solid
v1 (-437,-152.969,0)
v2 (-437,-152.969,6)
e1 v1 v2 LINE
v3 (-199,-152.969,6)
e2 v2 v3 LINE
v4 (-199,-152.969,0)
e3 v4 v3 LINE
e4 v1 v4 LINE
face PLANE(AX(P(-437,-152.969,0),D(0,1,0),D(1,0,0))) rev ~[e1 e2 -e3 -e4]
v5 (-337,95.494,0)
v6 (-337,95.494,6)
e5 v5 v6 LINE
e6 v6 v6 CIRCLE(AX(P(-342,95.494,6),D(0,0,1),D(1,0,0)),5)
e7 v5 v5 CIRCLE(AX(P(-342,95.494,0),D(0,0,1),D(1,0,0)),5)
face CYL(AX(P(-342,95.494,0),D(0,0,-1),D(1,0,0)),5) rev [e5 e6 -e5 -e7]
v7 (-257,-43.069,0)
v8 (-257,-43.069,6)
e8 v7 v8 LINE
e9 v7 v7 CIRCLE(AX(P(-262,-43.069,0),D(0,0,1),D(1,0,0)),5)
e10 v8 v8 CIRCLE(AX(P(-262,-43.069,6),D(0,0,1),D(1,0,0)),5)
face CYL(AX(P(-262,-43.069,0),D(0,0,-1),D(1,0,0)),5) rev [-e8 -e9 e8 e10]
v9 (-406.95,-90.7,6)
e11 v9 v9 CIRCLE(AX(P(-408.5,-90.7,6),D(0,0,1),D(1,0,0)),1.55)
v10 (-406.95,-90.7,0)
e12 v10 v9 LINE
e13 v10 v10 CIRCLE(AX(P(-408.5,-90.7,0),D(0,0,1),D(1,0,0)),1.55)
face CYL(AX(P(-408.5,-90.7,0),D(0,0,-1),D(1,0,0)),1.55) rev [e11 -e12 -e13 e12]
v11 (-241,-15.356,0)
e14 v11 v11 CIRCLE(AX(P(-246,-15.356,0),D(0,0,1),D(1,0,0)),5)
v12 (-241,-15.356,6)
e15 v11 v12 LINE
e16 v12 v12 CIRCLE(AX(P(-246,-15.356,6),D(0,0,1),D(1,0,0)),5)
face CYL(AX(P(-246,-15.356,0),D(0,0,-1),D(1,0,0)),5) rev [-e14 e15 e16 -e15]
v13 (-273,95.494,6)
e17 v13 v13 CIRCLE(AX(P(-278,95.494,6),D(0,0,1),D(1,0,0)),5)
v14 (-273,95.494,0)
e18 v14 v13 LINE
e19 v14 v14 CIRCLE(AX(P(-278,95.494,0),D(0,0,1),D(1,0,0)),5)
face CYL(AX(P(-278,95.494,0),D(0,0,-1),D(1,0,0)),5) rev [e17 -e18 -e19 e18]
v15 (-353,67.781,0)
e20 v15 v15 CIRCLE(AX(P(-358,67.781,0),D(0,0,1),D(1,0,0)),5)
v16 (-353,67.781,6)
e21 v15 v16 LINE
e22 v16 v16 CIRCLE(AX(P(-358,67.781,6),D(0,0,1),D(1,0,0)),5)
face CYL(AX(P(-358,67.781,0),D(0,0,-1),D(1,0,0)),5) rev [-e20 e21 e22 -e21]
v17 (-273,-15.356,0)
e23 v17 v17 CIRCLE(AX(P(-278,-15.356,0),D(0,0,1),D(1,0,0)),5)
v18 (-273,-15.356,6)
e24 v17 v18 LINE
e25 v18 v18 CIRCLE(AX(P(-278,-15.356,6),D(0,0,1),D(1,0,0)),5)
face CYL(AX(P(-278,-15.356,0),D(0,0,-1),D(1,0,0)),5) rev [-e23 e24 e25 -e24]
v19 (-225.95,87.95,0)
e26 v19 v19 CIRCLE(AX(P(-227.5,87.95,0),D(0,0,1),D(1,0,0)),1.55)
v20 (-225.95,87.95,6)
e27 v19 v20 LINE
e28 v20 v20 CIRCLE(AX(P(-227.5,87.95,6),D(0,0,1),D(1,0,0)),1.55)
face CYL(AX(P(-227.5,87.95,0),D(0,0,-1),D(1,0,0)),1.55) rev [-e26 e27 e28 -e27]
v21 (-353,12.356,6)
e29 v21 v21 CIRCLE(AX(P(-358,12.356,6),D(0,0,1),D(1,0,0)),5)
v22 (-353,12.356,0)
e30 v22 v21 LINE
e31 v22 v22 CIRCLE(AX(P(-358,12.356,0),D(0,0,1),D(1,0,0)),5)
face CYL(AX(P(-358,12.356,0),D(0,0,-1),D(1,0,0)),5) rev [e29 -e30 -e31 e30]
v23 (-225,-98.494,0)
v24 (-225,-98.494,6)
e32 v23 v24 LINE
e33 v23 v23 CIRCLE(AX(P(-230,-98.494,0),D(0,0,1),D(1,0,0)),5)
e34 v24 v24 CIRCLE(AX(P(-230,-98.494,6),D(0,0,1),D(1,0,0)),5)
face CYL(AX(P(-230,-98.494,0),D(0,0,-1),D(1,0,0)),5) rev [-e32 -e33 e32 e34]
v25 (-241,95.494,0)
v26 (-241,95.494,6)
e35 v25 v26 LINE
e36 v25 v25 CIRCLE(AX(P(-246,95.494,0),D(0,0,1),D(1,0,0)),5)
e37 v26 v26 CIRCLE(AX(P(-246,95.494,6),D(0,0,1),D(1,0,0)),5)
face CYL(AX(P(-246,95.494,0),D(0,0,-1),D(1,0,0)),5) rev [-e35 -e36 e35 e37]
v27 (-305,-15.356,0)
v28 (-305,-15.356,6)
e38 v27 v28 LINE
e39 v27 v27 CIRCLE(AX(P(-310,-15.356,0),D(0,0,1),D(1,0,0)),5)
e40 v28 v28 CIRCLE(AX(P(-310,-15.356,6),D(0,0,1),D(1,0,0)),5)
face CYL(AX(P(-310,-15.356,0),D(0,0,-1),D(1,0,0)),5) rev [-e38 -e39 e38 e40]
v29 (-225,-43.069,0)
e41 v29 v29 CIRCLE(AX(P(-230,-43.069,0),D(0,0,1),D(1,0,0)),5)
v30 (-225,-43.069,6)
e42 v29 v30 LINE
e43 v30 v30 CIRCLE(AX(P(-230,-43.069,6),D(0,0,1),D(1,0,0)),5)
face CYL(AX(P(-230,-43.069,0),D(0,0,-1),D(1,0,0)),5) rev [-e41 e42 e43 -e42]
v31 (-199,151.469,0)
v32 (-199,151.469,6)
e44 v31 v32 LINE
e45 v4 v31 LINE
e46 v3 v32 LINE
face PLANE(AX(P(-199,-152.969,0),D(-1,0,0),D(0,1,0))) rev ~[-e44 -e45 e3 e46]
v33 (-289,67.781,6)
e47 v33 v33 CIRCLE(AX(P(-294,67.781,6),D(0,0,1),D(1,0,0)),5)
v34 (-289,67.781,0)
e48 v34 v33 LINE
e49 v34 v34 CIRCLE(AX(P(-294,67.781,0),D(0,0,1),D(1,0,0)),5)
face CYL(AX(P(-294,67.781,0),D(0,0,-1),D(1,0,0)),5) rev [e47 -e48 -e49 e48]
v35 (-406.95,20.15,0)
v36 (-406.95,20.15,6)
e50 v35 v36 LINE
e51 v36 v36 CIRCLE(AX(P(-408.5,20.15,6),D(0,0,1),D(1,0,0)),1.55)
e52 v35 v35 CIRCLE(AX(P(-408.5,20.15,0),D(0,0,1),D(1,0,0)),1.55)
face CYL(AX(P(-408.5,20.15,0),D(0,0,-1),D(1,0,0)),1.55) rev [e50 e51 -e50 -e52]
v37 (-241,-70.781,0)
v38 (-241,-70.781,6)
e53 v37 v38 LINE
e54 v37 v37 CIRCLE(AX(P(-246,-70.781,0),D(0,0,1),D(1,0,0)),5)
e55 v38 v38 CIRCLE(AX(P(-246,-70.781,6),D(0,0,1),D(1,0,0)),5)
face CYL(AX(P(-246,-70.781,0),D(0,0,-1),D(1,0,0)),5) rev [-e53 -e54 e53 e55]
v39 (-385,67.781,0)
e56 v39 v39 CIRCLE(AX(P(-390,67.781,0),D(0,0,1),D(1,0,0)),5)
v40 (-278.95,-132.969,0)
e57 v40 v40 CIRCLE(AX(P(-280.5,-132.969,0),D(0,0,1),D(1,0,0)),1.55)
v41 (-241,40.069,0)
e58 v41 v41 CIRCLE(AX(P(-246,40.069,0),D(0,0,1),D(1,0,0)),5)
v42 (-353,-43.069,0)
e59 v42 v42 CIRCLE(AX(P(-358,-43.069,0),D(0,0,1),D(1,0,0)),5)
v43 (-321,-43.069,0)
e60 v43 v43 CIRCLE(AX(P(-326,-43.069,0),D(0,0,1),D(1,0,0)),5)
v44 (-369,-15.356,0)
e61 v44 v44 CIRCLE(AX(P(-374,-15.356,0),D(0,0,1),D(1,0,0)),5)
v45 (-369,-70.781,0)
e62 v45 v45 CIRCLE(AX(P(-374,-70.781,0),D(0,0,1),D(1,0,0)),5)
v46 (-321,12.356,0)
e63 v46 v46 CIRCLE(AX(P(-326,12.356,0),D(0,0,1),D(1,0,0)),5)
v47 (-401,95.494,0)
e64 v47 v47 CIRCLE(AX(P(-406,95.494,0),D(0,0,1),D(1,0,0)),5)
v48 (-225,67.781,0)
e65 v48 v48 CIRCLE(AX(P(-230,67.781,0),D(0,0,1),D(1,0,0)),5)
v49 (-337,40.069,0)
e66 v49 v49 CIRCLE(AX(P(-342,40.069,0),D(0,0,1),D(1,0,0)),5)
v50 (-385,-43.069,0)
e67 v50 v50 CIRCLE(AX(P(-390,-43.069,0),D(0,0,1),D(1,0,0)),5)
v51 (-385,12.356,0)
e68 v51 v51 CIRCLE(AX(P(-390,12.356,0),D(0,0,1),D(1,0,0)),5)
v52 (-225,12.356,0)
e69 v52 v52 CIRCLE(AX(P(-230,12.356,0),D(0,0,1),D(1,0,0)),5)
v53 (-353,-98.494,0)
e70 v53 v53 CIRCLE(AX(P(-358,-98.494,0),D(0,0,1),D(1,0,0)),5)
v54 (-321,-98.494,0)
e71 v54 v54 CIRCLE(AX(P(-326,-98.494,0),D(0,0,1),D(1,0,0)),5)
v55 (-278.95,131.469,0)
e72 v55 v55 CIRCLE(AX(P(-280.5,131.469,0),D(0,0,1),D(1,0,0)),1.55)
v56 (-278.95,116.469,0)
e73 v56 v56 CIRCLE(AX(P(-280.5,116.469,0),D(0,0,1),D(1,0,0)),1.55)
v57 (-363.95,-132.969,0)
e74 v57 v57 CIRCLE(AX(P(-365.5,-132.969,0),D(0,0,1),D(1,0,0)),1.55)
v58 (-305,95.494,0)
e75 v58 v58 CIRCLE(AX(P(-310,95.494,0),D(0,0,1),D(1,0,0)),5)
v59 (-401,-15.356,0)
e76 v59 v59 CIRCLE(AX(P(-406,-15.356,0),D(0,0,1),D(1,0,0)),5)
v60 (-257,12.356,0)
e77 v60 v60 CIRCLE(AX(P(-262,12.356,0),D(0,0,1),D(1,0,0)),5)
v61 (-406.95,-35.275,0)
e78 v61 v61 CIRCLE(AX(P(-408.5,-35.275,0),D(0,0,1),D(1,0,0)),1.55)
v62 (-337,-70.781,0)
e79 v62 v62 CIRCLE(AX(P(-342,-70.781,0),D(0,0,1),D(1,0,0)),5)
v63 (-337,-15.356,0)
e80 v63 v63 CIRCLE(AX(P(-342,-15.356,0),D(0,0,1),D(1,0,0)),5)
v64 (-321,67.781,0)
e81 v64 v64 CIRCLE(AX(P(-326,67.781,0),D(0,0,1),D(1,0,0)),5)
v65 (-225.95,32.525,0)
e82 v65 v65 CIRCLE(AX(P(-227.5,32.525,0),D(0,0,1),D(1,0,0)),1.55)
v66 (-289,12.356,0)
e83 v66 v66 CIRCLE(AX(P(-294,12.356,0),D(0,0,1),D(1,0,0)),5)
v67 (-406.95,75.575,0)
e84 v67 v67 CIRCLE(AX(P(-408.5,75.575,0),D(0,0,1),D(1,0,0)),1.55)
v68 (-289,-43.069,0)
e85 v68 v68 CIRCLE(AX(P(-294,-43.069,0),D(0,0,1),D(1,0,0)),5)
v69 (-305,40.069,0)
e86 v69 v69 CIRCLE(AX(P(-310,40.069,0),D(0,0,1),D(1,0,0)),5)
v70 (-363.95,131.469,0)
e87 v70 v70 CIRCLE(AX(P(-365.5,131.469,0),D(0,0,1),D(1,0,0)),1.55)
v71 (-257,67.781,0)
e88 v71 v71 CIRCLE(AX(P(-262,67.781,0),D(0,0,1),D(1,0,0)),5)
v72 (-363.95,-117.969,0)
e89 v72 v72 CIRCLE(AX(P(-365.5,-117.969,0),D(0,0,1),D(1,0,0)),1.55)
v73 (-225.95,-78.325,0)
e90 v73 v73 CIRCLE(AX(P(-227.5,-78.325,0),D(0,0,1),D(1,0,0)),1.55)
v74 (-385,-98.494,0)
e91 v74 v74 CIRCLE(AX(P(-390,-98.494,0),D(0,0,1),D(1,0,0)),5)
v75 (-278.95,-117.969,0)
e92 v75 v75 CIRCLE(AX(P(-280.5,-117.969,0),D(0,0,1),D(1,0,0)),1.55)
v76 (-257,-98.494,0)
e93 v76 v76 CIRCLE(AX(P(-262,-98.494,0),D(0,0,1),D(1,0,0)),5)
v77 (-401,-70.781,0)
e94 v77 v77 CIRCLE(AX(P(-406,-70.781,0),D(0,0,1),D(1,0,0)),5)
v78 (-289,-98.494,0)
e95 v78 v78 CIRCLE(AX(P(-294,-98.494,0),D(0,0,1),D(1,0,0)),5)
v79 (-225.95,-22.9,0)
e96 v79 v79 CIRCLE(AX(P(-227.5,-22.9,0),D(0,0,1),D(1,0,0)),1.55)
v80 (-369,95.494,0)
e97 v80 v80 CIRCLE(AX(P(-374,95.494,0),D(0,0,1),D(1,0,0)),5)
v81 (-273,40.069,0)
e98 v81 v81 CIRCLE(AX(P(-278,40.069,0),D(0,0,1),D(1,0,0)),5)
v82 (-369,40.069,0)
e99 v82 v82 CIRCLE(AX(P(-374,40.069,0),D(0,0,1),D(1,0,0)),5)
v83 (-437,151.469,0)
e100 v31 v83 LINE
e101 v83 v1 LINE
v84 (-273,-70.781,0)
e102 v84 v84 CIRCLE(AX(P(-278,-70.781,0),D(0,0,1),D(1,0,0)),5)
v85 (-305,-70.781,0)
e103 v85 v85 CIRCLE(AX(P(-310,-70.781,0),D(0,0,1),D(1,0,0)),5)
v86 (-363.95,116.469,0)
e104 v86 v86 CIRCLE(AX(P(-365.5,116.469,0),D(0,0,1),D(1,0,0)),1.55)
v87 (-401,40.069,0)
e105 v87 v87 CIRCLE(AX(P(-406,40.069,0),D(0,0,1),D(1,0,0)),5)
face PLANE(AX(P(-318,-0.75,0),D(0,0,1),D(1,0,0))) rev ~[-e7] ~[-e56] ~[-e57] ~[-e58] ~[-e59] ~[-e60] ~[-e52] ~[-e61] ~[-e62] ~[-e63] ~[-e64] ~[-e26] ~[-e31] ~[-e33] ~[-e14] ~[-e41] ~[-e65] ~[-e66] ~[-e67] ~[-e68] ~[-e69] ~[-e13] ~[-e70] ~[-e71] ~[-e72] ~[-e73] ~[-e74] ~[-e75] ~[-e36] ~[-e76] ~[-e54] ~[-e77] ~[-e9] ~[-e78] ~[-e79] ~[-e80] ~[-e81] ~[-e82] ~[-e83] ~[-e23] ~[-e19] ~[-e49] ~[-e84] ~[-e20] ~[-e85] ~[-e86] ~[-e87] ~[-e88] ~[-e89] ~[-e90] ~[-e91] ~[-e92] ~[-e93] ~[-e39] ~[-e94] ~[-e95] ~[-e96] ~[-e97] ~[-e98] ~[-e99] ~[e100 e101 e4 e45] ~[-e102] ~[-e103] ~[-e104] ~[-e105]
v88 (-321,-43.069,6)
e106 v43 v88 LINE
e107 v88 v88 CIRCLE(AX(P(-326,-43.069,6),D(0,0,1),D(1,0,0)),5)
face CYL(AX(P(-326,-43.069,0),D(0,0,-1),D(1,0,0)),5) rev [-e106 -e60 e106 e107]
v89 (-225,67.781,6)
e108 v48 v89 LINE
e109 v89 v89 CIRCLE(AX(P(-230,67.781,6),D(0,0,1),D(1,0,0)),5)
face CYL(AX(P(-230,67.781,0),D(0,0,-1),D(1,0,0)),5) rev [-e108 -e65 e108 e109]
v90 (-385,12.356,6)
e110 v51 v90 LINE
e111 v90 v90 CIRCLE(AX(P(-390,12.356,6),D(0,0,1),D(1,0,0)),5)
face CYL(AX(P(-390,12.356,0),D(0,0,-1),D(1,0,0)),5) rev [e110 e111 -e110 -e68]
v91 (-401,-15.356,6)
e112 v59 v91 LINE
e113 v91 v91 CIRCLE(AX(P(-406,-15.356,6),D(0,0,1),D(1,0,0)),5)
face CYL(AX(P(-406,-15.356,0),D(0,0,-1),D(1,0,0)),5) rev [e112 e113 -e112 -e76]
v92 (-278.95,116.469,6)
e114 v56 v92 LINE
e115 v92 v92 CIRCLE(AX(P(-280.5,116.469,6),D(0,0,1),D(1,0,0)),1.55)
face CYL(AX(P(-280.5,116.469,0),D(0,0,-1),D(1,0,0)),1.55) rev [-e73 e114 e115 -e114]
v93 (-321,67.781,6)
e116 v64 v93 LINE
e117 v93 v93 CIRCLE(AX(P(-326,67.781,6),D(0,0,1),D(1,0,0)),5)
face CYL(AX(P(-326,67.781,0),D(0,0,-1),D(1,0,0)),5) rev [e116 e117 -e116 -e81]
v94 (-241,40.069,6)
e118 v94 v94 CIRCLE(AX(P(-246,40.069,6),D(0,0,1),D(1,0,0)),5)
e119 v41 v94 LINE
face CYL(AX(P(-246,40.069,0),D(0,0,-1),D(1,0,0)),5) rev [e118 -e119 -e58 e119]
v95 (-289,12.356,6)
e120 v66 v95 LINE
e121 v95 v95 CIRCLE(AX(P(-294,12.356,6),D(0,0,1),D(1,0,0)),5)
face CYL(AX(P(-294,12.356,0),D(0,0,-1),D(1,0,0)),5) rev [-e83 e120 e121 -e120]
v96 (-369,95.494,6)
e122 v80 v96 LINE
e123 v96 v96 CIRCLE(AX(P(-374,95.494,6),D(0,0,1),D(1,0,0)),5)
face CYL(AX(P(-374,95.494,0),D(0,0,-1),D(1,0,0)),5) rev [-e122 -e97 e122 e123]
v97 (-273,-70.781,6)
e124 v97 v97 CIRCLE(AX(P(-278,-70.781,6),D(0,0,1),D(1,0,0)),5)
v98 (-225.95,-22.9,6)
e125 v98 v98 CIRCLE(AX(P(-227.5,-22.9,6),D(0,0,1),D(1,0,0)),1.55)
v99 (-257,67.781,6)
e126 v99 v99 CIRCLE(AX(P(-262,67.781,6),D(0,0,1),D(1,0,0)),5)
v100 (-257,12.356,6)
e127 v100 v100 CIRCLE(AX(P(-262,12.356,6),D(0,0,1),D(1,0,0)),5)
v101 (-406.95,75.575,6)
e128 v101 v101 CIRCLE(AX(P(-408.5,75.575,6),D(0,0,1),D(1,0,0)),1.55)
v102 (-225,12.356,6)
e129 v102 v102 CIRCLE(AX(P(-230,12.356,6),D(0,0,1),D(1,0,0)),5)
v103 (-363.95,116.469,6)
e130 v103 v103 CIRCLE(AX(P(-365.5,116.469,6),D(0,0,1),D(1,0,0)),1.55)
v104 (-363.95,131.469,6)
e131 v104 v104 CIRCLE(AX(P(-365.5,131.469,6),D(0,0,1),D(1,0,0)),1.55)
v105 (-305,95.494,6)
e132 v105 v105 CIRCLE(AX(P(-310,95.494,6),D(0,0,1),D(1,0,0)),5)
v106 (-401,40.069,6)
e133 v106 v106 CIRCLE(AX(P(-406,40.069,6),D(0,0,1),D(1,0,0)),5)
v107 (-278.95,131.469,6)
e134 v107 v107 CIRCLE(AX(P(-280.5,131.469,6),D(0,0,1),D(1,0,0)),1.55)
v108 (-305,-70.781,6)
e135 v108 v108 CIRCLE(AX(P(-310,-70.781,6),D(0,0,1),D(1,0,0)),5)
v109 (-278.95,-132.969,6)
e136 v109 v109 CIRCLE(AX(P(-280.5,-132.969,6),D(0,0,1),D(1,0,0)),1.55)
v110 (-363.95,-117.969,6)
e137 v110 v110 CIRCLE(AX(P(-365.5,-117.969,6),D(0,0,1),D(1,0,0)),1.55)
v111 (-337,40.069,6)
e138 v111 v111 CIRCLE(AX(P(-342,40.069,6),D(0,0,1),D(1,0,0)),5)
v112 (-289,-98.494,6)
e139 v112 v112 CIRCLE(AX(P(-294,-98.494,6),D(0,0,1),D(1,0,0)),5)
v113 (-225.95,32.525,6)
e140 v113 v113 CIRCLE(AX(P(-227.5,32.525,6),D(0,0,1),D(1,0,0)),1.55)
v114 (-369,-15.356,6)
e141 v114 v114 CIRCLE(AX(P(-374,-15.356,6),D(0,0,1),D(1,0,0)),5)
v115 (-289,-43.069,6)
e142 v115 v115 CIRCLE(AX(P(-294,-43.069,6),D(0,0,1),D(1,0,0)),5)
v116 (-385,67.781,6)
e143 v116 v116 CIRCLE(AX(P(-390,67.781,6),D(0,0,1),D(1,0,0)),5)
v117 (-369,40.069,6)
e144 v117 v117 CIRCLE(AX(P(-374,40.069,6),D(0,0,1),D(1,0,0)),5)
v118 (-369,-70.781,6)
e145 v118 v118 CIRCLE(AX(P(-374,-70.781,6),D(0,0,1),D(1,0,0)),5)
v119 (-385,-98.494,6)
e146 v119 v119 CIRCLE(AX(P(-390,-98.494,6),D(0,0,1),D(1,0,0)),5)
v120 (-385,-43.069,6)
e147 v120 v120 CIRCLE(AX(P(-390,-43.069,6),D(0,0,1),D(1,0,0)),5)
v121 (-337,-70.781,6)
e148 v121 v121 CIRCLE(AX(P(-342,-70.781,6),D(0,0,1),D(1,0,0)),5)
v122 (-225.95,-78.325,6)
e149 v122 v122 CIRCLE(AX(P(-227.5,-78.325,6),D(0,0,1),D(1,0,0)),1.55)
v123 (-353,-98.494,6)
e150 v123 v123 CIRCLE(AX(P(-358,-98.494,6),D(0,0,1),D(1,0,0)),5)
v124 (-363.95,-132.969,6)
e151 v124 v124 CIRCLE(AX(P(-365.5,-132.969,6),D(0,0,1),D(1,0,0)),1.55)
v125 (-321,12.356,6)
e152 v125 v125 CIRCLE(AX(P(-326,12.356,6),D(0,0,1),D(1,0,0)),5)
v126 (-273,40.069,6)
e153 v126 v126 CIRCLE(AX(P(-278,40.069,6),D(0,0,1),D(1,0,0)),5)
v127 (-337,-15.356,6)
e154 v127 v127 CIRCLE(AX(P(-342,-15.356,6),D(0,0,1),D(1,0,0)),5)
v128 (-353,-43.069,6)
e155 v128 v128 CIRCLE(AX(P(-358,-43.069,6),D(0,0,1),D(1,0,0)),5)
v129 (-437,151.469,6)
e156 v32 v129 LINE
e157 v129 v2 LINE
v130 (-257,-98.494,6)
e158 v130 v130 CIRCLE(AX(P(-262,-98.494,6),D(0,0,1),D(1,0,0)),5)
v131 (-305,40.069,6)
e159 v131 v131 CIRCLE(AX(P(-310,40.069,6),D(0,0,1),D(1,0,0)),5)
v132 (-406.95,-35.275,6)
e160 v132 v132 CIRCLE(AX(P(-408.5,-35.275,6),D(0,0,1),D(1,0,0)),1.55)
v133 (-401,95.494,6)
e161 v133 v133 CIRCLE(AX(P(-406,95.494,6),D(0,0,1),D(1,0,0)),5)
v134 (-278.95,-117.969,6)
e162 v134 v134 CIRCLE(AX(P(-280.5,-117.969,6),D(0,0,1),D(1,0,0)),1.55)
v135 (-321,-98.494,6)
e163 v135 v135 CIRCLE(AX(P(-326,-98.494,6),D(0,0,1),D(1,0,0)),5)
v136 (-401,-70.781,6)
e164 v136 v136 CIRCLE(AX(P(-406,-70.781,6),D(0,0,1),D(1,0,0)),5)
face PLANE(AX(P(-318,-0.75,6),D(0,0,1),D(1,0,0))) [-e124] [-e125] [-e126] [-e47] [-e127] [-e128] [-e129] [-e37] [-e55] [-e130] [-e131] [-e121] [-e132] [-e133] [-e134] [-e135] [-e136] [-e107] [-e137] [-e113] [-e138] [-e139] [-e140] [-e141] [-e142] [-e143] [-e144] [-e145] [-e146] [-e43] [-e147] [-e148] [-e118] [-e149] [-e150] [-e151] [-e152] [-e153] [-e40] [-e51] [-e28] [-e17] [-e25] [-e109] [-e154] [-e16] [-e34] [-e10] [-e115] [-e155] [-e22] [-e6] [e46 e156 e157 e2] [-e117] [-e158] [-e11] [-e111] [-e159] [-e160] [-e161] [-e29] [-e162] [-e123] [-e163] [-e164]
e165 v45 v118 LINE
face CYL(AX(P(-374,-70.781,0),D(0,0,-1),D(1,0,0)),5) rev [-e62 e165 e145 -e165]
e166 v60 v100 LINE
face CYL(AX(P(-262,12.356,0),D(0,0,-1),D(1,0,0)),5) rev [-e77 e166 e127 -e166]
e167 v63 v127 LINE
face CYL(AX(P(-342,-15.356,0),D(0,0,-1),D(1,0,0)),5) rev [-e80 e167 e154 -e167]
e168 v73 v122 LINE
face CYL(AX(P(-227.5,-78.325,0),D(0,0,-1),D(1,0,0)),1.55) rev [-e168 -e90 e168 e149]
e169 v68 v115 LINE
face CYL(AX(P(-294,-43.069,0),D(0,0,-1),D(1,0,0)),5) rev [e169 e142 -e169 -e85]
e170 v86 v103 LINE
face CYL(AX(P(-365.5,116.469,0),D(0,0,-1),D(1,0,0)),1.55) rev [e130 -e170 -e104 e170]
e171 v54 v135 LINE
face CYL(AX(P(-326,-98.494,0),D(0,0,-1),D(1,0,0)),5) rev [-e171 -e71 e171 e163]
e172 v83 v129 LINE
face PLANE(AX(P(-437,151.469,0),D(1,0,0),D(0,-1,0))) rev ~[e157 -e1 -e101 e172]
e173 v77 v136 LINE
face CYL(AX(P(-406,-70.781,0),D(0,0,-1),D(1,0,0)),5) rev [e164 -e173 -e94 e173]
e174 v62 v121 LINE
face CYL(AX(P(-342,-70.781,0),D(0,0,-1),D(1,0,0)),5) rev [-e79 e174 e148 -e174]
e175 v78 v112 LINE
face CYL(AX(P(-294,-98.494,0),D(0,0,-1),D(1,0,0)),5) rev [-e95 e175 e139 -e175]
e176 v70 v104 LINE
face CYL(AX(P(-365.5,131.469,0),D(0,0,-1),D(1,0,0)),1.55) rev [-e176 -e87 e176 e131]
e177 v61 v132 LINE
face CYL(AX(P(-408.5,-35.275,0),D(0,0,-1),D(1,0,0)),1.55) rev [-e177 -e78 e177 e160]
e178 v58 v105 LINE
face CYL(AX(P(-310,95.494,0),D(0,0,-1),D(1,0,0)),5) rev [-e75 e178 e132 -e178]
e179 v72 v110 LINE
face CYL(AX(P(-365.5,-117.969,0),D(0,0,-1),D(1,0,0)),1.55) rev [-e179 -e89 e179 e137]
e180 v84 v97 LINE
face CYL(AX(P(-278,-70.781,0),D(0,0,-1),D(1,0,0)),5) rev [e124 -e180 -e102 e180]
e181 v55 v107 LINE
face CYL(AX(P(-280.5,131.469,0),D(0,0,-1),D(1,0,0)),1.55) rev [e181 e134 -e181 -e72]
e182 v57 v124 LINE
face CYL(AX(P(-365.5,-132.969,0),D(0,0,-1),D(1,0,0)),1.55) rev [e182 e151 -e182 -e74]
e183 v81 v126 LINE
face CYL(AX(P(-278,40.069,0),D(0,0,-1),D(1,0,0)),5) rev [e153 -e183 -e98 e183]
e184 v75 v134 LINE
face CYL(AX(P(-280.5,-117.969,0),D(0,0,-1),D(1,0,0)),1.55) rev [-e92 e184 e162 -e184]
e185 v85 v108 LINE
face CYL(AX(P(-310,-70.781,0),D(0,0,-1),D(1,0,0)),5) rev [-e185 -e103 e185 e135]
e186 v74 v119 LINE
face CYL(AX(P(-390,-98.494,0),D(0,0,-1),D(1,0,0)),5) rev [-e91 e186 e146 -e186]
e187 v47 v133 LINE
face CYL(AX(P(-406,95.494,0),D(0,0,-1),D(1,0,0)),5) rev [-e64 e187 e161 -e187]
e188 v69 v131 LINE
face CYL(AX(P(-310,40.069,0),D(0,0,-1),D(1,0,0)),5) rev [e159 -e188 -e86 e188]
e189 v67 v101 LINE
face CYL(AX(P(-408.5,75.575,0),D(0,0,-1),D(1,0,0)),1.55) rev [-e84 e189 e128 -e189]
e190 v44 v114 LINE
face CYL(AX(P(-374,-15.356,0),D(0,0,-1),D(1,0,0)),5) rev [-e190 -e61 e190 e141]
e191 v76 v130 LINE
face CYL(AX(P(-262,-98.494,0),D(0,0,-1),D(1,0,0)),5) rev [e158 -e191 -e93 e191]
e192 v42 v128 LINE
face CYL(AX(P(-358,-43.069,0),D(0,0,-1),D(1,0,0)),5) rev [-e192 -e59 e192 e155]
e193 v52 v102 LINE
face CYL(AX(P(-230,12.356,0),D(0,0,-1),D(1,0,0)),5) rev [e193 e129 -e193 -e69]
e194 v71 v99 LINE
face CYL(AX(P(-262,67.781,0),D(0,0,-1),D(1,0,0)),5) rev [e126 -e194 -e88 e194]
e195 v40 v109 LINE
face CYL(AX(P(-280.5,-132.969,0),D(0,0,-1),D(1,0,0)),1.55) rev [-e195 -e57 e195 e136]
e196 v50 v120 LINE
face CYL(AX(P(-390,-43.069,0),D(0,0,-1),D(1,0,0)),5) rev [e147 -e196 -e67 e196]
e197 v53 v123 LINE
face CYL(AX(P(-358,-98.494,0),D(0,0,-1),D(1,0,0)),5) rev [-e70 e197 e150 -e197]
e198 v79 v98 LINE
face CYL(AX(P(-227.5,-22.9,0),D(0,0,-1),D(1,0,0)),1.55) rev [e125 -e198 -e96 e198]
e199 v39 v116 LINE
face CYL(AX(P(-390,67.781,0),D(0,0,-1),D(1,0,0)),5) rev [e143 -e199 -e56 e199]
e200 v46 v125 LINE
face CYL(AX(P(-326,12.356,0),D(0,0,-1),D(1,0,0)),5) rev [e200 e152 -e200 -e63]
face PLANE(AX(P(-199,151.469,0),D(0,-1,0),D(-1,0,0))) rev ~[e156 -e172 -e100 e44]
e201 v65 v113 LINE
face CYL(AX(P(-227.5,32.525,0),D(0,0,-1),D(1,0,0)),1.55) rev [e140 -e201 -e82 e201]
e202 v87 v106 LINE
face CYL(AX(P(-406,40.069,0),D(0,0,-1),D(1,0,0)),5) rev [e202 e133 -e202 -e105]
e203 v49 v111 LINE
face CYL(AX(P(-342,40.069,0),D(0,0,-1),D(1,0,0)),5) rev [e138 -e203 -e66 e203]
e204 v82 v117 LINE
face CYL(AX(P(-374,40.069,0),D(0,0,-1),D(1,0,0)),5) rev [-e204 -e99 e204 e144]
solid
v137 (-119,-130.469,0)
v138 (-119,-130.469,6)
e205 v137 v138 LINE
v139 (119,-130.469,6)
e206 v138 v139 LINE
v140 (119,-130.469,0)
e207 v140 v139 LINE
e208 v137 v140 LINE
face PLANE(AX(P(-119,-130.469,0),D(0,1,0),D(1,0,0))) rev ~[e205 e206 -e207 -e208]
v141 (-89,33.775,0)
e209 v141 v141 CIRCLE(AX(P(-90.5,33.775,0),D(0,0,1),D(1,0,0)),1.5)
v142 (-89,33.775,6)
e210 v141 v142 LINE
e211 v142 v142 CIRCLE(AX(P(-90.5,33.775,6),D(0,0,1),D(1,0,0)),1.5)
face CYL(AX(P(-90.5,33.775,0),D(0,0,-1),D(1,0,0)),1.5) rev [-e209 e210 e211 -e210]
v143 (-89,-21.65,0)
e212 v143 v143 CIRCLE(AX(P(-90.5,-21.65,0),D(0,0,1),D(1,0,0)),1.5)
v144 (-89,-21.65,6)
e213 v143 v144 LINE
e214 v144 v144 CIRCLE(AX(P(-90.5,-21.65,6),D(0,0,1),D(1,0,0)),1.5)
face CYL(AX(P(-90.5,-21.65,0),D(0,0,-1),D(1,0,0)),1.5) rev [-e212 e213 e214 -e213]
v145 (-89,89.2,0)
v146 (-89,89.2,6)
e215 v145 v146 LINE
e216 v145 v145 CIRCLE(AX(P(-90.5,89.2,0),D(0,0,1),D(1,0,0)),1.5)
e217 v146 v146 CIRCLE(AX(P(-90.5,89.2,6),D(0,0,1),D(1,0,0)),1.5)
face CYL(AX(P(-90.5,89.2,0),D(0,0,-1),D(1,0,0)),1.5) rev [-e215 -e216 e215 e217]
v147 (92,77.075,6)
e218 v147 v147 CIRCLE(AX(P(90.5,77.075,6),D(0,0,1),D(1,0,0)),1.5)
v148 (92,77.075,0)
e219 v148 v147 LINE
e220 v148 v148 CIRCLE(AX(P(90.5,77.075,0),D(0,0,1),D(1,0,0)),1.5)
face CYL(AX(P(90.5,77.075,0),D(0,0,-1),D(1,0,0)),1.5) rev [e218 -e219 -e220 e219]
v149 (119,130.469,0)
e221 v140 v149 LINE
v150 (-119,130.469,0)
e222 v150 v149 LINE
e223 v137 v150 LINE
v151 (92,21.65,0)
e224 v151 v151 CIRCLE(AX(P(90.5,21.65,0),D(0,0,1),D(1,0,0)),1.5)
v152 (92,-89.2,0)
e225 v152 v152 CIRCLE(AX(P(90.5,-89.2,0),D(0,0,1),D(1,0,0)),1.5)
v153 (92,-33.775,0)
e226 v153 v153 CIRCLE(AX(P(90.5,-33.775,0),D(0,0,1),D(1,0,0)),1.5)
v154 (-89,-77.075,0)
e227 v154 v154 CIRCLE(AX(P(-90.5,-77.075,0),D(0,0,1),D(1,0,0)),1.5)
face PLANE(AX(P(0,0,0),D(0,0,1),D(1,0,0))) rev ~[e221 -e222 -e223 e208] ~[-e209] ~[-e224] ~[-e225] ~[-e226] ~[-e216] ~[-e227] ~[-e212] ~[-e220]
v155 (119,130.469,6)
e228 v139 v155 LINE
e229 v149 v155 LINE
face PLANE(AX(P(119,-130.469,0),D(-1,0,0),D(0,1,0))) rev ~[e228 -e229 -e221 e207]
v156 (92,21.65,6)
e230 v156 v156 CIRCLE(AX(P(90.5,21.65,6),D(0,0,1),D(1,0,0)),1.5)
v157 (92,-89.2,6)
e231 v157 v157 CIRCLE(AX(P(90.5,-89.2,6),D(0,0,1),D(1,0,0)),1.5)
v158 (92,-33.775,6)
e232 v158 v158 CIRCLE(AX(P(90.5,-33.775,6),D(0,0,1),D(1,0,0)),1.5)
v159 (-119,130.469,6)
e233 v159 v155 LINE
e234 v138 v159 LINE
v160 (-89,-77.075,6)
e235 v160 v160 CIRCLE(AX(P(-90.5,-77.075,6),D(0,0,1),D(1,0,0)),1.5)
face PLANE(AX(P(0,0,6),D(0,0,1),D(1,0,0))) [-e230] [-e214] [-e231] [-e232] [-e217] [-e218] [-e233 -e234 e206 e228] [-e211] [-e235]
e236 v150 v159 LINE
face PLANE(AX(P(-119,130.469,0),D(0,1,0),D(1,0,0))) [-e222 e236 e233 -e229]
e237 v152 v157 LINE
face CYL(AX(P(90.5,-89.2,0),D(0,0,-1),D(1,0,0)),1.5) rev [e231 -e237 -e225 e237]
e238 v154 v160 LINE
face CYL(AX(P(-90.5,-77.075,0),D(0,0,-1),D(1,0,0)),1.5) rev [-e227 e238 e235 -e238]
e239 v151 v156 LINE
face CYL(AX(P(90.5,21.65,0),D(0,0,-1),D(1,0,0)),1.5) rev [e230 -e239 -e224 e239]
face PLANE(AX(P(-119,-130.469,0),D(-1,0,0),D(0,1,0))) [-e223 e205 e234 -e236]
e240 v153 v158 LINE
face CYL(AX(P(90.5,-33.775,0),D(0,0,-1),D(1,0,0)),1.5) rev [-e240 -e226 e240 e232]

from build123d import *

# Parameters (mm, degrees)
F0_W     = 238
F0_H     = 260.938
F0_R     = 1.5
F0_R_2   = 1.55
F0_R_3   = 5
F1_DEPTH = 6


with BuildPart() as f1:
    # F0 (on Top) → F1 (new body)
    with BuildSketch(Plane.XY):
        Rectangle(F0_W, F0_H)
        with Locations((-90.5, -77.075)):
            Circle(F0_R, mode=Mode.SUBTRACT)
        with Locations((90.5, -89.2)):
            Circle(F0_R, mode=Mode.SUBTRACT)
        with Locations((-90.5, -21.65)):
            Circle(F0_R, mode=Mode.SUBTRACT)
        with Locations((90.5, -33.775)):
            Circle(F0_R, mode=Mode.SUBTRACT)
        with Locations((-90.5, 33.775)):
            Circle(F0_R, mode=Mode.SUBTRACT)
        with Locations((90.5, 21.65)):
            Circle(F0_R, mode=Mode.SUBTRACT)
        with Locations((-90.5, 89.2)):
            Circle(F0_R, mode=Mode.SUBTRACT)
        with Locations((90.5, 77.075)):
            Circle(F0_R, mode=Mode.SUBTRACT)
        Polygon((-199, -152.969), (-199, -130.469), (-199, 130.469), (-199, 151.469), (-437, 151.469), (-437, 130.469), (-437, -130.469), (-437, -152.969), align=None)
        with Locations((-365.5, -132.969)):
            Circle(F0_R_2, mode=Mode.SUBTRACT)
        with Locations((-365.5, -117.969)):
            Circle(F0_R_2, mode=Mode.SUBTRACT)
        with Locations((-390, -98.494)):
            Circle(F0_R_3, mode=Mode.SUBTRACT)
        with Locations((-408.5, -90.7)):
            Circle(F0_R_2, mode=Mode.SUBTRACT)
        with Locations((-358, -98.494)):
            Circle(F0_R_3, mode=Mode.SUBTRACT)
        with Locations((-326, -98.494)):
            Circle(F0_R_3, mode=Mode.SUBTRACT)
        with Locations((-280.5, -132.969)):
            Circle(F0_R_2, mode=Mode.SUBTRACT)
        with Locations((-280.5, -117.969)):
            Circle(F0_R_2, mode=Mode.SUBTRACT)
        with Locations((-294, -98.494)):
            Circle(F0_R_3, mode=Mode.SUBTRACT)
        with Locations((-262, -98.494)):
            Circle(F0_R_3, mode=Mode.SUBTRACT)
        with Locations((-230, -98.494)):
            Circle(F0_R_3, mode=Mode.SUBTRACT)
        with Locations((-227.5, -78.325)):
            Circle(F0_R_2, mode=Mode.SUBTRACT)
        with Locations((-406, -70.781)):
            Circle(F0_R_3, mode=Mode.SUBTRACT)
        with Locations((-374, -70.781)):
            Circle(F0_R_3, mode=Mode.SUBTRACT)
        with Locations((-390, -43.069)):
            Circle(F0_R_3, mode=Mode.SUBTRACT)
        with Locations((-342, -70.781)):
            Circle(F0_R_3, mode=Mode.SUBTRACT)
        with Locations((-310, -70.781)):
            Circle(F0_R_3, mode=Mode.SUBTRACT)
        with Locations((-358, -43.069)):
            Circle(F0_R_3, mode=Mode.SUBTRACT)
        with Locations((-326, -43.069)):
            Circle(F0_R_3, mode=Mode.SUBTRACT)
        with Locations((-408.5, -35.275)):
            Circle(F0_R_2, mode=Mode.SUBTRACT)
        with Locations((-406, -15.356)):
            Circle(F0_R_3, mode=Mode.SUBTRACT)
        with Locations((-374, -15.356)):
            Circle(F0_R_3, mode=Mode.SUBTRACT)
        with Locations((-342, -15.356)):
            Circle(F0_R_3, mode=Mode.SUBTRACT)
        with Locations((-310, -15.356)):
            Circle(F0_R_3, mode=Mode.SUBTRACT)
        with Locations((-278, -70.781)):
            Circle(F0_R_3, mode=Mode.SUBTRACT)
        with Locations((-246, -70.781)):
            Circle(F0_R_3, mode=Mode.SUBTRACT)
        with Locations((-294, -43.069)):
            Circle(F0_R_3, mode=Mode.SUBTRACT)
        with Locations((-262, -43.069)):
            Circle(F0_R_3, mode=Mode.SUBTRACT)
        with Locations((-230, -43.069)):
            Circle(F0_R_3, mode=Mode.SUBTRACT)
        with Locations((-278, -15.356)):
            Circle(F0_R_3, mode=Mode.SUBTRACT)
        with Locations((-246, -15.356)):
            Circle(F0_R_3, mode=Mode.SUBTRACT)
        with Locations((-227.5, -22.9)):
            Circle(F0_R_2, mode=Mode.SUBTRACT)
        with Locations((-390, 12.356)):
            Circle(F0_R_3, mode=Mode.SUBTRACT)
        with Locations((-408.5, 20.15)):
            Circle(F0_R_2, mode=Mode.SUBTRACT)
        with Locations((-358, 12.356)):
            Circle(F0_R_3, mode=Mode.SUBTRACT)
        with Locations((-326, 12.356)):
            Circle(F0_R_3, mode=Mode.SUBTRACT)
        with Locations((-406, 40.069)):
            Circle(F0_R_3, mode=Mode.SUBTRACT)
        with Locations((-374, 40.069)):
            Circle(F0_R_3, mode=Mode.SUBTRACT)
        with Locations((-390, 67.781)):
            Circle(F0_R_3, mode=Mode.SUBTRACT)
        with Locations((-342, 40.069)):
            Circle(F0_R_3, mode=Mode.SUBTRACT)
        with Locations((-310, 40.069)):
            Circle(F0_R_3, mode=Mode.SUBTRACT)
        with Locations((-358, 67.781)):
            Circle(F0_R_3, mode=Mode.SUBTRACT)
        with Locations((-326, 67.781)):
            Circle(F0_R_3, mode=Mode.SUBTRACT)
        with Locations((-294, 12.356)):
            Circle(F0_R_3, mode=Mode.SUBTRACT)
        with Locations((-262, 12.356)):
            Circle(F0_R_3, mode=Mode.SUBTRACT)
        with Locations((-230, 12.356)):
            Circle(F0_R_3, mode=Mode.SUBTRACT)
        with Locations((-227.5, 32.525)):
            Circle(F0_R_2, mode=Mode.SUBTRACT)
        with Locations((-278, 40.069)):
            Circle(F0_R_3, mode=Mode.SUBTRACT)
        with Locations((-246, 40.069)):
            Circle(F0_R_3, mode=Mode.SUBTRACT)
        with Locations((-294, 67.781)):
            Circle(F0_R_3, mode=Mode.SUBTRACT)
        with Locations((-262, 67.781)):
            Circle(F0_R_3, mode=Mode.SUBTRACT)
        with Locations((-230, 67.781)):
            Circle(F0_R_3, mode=Mode.SUBTRACT)
        with Locations((-408.5, 75.575)):
            Circle(F0_R_2, mode=Mode.SUBTRACT)
        with Locations((-406, 95.494)):
            Circle(F0_R_3, mode=Mode.SUBTRACT)
        with Locations((-374, 95.494)):
            Circle(F0_R_3, mode=Mode.SUBTRACT)
        with Locations((-342, 95.494)):
            Circle(F0_R_3, mode=Mode.SUBTRACT)
        with Locations((-310, 95.494)):
            Circle(F0_R_3, mode=Mode.SUBTRACT)
        with Locations((-365.5, 116.469)):
            Circle(F0_R_2, mode=Mode.SUBTRACT)
        with Locations((-365.5, 131.469)):
            Circle(F0_R_2, mode=Mode.SUBTRACT)
        with Locations((-278, 95.494)):
            Circle(F0_R_3, mode=Mode.SUBTRACT)
        with Locations((-246, 95.494)):
            Circle(F0_R_3, mode=Mode.SUBTRACT)
        with Locations((-227.5, 87.95)):
            Circle(F0_R_2, mode=Mode.SUBTRACT)
        with Locations((-280.5, 116.469)):
            Circle(F0_R_2, mode=Mode.SUBTRACT)
        with Locations((-280.5, 131.469)):
            Circle(F0_R_2, mode=Mode.SUBTRACT)
    extrude(amount=F1_DEPTH)


solid = f1.part
